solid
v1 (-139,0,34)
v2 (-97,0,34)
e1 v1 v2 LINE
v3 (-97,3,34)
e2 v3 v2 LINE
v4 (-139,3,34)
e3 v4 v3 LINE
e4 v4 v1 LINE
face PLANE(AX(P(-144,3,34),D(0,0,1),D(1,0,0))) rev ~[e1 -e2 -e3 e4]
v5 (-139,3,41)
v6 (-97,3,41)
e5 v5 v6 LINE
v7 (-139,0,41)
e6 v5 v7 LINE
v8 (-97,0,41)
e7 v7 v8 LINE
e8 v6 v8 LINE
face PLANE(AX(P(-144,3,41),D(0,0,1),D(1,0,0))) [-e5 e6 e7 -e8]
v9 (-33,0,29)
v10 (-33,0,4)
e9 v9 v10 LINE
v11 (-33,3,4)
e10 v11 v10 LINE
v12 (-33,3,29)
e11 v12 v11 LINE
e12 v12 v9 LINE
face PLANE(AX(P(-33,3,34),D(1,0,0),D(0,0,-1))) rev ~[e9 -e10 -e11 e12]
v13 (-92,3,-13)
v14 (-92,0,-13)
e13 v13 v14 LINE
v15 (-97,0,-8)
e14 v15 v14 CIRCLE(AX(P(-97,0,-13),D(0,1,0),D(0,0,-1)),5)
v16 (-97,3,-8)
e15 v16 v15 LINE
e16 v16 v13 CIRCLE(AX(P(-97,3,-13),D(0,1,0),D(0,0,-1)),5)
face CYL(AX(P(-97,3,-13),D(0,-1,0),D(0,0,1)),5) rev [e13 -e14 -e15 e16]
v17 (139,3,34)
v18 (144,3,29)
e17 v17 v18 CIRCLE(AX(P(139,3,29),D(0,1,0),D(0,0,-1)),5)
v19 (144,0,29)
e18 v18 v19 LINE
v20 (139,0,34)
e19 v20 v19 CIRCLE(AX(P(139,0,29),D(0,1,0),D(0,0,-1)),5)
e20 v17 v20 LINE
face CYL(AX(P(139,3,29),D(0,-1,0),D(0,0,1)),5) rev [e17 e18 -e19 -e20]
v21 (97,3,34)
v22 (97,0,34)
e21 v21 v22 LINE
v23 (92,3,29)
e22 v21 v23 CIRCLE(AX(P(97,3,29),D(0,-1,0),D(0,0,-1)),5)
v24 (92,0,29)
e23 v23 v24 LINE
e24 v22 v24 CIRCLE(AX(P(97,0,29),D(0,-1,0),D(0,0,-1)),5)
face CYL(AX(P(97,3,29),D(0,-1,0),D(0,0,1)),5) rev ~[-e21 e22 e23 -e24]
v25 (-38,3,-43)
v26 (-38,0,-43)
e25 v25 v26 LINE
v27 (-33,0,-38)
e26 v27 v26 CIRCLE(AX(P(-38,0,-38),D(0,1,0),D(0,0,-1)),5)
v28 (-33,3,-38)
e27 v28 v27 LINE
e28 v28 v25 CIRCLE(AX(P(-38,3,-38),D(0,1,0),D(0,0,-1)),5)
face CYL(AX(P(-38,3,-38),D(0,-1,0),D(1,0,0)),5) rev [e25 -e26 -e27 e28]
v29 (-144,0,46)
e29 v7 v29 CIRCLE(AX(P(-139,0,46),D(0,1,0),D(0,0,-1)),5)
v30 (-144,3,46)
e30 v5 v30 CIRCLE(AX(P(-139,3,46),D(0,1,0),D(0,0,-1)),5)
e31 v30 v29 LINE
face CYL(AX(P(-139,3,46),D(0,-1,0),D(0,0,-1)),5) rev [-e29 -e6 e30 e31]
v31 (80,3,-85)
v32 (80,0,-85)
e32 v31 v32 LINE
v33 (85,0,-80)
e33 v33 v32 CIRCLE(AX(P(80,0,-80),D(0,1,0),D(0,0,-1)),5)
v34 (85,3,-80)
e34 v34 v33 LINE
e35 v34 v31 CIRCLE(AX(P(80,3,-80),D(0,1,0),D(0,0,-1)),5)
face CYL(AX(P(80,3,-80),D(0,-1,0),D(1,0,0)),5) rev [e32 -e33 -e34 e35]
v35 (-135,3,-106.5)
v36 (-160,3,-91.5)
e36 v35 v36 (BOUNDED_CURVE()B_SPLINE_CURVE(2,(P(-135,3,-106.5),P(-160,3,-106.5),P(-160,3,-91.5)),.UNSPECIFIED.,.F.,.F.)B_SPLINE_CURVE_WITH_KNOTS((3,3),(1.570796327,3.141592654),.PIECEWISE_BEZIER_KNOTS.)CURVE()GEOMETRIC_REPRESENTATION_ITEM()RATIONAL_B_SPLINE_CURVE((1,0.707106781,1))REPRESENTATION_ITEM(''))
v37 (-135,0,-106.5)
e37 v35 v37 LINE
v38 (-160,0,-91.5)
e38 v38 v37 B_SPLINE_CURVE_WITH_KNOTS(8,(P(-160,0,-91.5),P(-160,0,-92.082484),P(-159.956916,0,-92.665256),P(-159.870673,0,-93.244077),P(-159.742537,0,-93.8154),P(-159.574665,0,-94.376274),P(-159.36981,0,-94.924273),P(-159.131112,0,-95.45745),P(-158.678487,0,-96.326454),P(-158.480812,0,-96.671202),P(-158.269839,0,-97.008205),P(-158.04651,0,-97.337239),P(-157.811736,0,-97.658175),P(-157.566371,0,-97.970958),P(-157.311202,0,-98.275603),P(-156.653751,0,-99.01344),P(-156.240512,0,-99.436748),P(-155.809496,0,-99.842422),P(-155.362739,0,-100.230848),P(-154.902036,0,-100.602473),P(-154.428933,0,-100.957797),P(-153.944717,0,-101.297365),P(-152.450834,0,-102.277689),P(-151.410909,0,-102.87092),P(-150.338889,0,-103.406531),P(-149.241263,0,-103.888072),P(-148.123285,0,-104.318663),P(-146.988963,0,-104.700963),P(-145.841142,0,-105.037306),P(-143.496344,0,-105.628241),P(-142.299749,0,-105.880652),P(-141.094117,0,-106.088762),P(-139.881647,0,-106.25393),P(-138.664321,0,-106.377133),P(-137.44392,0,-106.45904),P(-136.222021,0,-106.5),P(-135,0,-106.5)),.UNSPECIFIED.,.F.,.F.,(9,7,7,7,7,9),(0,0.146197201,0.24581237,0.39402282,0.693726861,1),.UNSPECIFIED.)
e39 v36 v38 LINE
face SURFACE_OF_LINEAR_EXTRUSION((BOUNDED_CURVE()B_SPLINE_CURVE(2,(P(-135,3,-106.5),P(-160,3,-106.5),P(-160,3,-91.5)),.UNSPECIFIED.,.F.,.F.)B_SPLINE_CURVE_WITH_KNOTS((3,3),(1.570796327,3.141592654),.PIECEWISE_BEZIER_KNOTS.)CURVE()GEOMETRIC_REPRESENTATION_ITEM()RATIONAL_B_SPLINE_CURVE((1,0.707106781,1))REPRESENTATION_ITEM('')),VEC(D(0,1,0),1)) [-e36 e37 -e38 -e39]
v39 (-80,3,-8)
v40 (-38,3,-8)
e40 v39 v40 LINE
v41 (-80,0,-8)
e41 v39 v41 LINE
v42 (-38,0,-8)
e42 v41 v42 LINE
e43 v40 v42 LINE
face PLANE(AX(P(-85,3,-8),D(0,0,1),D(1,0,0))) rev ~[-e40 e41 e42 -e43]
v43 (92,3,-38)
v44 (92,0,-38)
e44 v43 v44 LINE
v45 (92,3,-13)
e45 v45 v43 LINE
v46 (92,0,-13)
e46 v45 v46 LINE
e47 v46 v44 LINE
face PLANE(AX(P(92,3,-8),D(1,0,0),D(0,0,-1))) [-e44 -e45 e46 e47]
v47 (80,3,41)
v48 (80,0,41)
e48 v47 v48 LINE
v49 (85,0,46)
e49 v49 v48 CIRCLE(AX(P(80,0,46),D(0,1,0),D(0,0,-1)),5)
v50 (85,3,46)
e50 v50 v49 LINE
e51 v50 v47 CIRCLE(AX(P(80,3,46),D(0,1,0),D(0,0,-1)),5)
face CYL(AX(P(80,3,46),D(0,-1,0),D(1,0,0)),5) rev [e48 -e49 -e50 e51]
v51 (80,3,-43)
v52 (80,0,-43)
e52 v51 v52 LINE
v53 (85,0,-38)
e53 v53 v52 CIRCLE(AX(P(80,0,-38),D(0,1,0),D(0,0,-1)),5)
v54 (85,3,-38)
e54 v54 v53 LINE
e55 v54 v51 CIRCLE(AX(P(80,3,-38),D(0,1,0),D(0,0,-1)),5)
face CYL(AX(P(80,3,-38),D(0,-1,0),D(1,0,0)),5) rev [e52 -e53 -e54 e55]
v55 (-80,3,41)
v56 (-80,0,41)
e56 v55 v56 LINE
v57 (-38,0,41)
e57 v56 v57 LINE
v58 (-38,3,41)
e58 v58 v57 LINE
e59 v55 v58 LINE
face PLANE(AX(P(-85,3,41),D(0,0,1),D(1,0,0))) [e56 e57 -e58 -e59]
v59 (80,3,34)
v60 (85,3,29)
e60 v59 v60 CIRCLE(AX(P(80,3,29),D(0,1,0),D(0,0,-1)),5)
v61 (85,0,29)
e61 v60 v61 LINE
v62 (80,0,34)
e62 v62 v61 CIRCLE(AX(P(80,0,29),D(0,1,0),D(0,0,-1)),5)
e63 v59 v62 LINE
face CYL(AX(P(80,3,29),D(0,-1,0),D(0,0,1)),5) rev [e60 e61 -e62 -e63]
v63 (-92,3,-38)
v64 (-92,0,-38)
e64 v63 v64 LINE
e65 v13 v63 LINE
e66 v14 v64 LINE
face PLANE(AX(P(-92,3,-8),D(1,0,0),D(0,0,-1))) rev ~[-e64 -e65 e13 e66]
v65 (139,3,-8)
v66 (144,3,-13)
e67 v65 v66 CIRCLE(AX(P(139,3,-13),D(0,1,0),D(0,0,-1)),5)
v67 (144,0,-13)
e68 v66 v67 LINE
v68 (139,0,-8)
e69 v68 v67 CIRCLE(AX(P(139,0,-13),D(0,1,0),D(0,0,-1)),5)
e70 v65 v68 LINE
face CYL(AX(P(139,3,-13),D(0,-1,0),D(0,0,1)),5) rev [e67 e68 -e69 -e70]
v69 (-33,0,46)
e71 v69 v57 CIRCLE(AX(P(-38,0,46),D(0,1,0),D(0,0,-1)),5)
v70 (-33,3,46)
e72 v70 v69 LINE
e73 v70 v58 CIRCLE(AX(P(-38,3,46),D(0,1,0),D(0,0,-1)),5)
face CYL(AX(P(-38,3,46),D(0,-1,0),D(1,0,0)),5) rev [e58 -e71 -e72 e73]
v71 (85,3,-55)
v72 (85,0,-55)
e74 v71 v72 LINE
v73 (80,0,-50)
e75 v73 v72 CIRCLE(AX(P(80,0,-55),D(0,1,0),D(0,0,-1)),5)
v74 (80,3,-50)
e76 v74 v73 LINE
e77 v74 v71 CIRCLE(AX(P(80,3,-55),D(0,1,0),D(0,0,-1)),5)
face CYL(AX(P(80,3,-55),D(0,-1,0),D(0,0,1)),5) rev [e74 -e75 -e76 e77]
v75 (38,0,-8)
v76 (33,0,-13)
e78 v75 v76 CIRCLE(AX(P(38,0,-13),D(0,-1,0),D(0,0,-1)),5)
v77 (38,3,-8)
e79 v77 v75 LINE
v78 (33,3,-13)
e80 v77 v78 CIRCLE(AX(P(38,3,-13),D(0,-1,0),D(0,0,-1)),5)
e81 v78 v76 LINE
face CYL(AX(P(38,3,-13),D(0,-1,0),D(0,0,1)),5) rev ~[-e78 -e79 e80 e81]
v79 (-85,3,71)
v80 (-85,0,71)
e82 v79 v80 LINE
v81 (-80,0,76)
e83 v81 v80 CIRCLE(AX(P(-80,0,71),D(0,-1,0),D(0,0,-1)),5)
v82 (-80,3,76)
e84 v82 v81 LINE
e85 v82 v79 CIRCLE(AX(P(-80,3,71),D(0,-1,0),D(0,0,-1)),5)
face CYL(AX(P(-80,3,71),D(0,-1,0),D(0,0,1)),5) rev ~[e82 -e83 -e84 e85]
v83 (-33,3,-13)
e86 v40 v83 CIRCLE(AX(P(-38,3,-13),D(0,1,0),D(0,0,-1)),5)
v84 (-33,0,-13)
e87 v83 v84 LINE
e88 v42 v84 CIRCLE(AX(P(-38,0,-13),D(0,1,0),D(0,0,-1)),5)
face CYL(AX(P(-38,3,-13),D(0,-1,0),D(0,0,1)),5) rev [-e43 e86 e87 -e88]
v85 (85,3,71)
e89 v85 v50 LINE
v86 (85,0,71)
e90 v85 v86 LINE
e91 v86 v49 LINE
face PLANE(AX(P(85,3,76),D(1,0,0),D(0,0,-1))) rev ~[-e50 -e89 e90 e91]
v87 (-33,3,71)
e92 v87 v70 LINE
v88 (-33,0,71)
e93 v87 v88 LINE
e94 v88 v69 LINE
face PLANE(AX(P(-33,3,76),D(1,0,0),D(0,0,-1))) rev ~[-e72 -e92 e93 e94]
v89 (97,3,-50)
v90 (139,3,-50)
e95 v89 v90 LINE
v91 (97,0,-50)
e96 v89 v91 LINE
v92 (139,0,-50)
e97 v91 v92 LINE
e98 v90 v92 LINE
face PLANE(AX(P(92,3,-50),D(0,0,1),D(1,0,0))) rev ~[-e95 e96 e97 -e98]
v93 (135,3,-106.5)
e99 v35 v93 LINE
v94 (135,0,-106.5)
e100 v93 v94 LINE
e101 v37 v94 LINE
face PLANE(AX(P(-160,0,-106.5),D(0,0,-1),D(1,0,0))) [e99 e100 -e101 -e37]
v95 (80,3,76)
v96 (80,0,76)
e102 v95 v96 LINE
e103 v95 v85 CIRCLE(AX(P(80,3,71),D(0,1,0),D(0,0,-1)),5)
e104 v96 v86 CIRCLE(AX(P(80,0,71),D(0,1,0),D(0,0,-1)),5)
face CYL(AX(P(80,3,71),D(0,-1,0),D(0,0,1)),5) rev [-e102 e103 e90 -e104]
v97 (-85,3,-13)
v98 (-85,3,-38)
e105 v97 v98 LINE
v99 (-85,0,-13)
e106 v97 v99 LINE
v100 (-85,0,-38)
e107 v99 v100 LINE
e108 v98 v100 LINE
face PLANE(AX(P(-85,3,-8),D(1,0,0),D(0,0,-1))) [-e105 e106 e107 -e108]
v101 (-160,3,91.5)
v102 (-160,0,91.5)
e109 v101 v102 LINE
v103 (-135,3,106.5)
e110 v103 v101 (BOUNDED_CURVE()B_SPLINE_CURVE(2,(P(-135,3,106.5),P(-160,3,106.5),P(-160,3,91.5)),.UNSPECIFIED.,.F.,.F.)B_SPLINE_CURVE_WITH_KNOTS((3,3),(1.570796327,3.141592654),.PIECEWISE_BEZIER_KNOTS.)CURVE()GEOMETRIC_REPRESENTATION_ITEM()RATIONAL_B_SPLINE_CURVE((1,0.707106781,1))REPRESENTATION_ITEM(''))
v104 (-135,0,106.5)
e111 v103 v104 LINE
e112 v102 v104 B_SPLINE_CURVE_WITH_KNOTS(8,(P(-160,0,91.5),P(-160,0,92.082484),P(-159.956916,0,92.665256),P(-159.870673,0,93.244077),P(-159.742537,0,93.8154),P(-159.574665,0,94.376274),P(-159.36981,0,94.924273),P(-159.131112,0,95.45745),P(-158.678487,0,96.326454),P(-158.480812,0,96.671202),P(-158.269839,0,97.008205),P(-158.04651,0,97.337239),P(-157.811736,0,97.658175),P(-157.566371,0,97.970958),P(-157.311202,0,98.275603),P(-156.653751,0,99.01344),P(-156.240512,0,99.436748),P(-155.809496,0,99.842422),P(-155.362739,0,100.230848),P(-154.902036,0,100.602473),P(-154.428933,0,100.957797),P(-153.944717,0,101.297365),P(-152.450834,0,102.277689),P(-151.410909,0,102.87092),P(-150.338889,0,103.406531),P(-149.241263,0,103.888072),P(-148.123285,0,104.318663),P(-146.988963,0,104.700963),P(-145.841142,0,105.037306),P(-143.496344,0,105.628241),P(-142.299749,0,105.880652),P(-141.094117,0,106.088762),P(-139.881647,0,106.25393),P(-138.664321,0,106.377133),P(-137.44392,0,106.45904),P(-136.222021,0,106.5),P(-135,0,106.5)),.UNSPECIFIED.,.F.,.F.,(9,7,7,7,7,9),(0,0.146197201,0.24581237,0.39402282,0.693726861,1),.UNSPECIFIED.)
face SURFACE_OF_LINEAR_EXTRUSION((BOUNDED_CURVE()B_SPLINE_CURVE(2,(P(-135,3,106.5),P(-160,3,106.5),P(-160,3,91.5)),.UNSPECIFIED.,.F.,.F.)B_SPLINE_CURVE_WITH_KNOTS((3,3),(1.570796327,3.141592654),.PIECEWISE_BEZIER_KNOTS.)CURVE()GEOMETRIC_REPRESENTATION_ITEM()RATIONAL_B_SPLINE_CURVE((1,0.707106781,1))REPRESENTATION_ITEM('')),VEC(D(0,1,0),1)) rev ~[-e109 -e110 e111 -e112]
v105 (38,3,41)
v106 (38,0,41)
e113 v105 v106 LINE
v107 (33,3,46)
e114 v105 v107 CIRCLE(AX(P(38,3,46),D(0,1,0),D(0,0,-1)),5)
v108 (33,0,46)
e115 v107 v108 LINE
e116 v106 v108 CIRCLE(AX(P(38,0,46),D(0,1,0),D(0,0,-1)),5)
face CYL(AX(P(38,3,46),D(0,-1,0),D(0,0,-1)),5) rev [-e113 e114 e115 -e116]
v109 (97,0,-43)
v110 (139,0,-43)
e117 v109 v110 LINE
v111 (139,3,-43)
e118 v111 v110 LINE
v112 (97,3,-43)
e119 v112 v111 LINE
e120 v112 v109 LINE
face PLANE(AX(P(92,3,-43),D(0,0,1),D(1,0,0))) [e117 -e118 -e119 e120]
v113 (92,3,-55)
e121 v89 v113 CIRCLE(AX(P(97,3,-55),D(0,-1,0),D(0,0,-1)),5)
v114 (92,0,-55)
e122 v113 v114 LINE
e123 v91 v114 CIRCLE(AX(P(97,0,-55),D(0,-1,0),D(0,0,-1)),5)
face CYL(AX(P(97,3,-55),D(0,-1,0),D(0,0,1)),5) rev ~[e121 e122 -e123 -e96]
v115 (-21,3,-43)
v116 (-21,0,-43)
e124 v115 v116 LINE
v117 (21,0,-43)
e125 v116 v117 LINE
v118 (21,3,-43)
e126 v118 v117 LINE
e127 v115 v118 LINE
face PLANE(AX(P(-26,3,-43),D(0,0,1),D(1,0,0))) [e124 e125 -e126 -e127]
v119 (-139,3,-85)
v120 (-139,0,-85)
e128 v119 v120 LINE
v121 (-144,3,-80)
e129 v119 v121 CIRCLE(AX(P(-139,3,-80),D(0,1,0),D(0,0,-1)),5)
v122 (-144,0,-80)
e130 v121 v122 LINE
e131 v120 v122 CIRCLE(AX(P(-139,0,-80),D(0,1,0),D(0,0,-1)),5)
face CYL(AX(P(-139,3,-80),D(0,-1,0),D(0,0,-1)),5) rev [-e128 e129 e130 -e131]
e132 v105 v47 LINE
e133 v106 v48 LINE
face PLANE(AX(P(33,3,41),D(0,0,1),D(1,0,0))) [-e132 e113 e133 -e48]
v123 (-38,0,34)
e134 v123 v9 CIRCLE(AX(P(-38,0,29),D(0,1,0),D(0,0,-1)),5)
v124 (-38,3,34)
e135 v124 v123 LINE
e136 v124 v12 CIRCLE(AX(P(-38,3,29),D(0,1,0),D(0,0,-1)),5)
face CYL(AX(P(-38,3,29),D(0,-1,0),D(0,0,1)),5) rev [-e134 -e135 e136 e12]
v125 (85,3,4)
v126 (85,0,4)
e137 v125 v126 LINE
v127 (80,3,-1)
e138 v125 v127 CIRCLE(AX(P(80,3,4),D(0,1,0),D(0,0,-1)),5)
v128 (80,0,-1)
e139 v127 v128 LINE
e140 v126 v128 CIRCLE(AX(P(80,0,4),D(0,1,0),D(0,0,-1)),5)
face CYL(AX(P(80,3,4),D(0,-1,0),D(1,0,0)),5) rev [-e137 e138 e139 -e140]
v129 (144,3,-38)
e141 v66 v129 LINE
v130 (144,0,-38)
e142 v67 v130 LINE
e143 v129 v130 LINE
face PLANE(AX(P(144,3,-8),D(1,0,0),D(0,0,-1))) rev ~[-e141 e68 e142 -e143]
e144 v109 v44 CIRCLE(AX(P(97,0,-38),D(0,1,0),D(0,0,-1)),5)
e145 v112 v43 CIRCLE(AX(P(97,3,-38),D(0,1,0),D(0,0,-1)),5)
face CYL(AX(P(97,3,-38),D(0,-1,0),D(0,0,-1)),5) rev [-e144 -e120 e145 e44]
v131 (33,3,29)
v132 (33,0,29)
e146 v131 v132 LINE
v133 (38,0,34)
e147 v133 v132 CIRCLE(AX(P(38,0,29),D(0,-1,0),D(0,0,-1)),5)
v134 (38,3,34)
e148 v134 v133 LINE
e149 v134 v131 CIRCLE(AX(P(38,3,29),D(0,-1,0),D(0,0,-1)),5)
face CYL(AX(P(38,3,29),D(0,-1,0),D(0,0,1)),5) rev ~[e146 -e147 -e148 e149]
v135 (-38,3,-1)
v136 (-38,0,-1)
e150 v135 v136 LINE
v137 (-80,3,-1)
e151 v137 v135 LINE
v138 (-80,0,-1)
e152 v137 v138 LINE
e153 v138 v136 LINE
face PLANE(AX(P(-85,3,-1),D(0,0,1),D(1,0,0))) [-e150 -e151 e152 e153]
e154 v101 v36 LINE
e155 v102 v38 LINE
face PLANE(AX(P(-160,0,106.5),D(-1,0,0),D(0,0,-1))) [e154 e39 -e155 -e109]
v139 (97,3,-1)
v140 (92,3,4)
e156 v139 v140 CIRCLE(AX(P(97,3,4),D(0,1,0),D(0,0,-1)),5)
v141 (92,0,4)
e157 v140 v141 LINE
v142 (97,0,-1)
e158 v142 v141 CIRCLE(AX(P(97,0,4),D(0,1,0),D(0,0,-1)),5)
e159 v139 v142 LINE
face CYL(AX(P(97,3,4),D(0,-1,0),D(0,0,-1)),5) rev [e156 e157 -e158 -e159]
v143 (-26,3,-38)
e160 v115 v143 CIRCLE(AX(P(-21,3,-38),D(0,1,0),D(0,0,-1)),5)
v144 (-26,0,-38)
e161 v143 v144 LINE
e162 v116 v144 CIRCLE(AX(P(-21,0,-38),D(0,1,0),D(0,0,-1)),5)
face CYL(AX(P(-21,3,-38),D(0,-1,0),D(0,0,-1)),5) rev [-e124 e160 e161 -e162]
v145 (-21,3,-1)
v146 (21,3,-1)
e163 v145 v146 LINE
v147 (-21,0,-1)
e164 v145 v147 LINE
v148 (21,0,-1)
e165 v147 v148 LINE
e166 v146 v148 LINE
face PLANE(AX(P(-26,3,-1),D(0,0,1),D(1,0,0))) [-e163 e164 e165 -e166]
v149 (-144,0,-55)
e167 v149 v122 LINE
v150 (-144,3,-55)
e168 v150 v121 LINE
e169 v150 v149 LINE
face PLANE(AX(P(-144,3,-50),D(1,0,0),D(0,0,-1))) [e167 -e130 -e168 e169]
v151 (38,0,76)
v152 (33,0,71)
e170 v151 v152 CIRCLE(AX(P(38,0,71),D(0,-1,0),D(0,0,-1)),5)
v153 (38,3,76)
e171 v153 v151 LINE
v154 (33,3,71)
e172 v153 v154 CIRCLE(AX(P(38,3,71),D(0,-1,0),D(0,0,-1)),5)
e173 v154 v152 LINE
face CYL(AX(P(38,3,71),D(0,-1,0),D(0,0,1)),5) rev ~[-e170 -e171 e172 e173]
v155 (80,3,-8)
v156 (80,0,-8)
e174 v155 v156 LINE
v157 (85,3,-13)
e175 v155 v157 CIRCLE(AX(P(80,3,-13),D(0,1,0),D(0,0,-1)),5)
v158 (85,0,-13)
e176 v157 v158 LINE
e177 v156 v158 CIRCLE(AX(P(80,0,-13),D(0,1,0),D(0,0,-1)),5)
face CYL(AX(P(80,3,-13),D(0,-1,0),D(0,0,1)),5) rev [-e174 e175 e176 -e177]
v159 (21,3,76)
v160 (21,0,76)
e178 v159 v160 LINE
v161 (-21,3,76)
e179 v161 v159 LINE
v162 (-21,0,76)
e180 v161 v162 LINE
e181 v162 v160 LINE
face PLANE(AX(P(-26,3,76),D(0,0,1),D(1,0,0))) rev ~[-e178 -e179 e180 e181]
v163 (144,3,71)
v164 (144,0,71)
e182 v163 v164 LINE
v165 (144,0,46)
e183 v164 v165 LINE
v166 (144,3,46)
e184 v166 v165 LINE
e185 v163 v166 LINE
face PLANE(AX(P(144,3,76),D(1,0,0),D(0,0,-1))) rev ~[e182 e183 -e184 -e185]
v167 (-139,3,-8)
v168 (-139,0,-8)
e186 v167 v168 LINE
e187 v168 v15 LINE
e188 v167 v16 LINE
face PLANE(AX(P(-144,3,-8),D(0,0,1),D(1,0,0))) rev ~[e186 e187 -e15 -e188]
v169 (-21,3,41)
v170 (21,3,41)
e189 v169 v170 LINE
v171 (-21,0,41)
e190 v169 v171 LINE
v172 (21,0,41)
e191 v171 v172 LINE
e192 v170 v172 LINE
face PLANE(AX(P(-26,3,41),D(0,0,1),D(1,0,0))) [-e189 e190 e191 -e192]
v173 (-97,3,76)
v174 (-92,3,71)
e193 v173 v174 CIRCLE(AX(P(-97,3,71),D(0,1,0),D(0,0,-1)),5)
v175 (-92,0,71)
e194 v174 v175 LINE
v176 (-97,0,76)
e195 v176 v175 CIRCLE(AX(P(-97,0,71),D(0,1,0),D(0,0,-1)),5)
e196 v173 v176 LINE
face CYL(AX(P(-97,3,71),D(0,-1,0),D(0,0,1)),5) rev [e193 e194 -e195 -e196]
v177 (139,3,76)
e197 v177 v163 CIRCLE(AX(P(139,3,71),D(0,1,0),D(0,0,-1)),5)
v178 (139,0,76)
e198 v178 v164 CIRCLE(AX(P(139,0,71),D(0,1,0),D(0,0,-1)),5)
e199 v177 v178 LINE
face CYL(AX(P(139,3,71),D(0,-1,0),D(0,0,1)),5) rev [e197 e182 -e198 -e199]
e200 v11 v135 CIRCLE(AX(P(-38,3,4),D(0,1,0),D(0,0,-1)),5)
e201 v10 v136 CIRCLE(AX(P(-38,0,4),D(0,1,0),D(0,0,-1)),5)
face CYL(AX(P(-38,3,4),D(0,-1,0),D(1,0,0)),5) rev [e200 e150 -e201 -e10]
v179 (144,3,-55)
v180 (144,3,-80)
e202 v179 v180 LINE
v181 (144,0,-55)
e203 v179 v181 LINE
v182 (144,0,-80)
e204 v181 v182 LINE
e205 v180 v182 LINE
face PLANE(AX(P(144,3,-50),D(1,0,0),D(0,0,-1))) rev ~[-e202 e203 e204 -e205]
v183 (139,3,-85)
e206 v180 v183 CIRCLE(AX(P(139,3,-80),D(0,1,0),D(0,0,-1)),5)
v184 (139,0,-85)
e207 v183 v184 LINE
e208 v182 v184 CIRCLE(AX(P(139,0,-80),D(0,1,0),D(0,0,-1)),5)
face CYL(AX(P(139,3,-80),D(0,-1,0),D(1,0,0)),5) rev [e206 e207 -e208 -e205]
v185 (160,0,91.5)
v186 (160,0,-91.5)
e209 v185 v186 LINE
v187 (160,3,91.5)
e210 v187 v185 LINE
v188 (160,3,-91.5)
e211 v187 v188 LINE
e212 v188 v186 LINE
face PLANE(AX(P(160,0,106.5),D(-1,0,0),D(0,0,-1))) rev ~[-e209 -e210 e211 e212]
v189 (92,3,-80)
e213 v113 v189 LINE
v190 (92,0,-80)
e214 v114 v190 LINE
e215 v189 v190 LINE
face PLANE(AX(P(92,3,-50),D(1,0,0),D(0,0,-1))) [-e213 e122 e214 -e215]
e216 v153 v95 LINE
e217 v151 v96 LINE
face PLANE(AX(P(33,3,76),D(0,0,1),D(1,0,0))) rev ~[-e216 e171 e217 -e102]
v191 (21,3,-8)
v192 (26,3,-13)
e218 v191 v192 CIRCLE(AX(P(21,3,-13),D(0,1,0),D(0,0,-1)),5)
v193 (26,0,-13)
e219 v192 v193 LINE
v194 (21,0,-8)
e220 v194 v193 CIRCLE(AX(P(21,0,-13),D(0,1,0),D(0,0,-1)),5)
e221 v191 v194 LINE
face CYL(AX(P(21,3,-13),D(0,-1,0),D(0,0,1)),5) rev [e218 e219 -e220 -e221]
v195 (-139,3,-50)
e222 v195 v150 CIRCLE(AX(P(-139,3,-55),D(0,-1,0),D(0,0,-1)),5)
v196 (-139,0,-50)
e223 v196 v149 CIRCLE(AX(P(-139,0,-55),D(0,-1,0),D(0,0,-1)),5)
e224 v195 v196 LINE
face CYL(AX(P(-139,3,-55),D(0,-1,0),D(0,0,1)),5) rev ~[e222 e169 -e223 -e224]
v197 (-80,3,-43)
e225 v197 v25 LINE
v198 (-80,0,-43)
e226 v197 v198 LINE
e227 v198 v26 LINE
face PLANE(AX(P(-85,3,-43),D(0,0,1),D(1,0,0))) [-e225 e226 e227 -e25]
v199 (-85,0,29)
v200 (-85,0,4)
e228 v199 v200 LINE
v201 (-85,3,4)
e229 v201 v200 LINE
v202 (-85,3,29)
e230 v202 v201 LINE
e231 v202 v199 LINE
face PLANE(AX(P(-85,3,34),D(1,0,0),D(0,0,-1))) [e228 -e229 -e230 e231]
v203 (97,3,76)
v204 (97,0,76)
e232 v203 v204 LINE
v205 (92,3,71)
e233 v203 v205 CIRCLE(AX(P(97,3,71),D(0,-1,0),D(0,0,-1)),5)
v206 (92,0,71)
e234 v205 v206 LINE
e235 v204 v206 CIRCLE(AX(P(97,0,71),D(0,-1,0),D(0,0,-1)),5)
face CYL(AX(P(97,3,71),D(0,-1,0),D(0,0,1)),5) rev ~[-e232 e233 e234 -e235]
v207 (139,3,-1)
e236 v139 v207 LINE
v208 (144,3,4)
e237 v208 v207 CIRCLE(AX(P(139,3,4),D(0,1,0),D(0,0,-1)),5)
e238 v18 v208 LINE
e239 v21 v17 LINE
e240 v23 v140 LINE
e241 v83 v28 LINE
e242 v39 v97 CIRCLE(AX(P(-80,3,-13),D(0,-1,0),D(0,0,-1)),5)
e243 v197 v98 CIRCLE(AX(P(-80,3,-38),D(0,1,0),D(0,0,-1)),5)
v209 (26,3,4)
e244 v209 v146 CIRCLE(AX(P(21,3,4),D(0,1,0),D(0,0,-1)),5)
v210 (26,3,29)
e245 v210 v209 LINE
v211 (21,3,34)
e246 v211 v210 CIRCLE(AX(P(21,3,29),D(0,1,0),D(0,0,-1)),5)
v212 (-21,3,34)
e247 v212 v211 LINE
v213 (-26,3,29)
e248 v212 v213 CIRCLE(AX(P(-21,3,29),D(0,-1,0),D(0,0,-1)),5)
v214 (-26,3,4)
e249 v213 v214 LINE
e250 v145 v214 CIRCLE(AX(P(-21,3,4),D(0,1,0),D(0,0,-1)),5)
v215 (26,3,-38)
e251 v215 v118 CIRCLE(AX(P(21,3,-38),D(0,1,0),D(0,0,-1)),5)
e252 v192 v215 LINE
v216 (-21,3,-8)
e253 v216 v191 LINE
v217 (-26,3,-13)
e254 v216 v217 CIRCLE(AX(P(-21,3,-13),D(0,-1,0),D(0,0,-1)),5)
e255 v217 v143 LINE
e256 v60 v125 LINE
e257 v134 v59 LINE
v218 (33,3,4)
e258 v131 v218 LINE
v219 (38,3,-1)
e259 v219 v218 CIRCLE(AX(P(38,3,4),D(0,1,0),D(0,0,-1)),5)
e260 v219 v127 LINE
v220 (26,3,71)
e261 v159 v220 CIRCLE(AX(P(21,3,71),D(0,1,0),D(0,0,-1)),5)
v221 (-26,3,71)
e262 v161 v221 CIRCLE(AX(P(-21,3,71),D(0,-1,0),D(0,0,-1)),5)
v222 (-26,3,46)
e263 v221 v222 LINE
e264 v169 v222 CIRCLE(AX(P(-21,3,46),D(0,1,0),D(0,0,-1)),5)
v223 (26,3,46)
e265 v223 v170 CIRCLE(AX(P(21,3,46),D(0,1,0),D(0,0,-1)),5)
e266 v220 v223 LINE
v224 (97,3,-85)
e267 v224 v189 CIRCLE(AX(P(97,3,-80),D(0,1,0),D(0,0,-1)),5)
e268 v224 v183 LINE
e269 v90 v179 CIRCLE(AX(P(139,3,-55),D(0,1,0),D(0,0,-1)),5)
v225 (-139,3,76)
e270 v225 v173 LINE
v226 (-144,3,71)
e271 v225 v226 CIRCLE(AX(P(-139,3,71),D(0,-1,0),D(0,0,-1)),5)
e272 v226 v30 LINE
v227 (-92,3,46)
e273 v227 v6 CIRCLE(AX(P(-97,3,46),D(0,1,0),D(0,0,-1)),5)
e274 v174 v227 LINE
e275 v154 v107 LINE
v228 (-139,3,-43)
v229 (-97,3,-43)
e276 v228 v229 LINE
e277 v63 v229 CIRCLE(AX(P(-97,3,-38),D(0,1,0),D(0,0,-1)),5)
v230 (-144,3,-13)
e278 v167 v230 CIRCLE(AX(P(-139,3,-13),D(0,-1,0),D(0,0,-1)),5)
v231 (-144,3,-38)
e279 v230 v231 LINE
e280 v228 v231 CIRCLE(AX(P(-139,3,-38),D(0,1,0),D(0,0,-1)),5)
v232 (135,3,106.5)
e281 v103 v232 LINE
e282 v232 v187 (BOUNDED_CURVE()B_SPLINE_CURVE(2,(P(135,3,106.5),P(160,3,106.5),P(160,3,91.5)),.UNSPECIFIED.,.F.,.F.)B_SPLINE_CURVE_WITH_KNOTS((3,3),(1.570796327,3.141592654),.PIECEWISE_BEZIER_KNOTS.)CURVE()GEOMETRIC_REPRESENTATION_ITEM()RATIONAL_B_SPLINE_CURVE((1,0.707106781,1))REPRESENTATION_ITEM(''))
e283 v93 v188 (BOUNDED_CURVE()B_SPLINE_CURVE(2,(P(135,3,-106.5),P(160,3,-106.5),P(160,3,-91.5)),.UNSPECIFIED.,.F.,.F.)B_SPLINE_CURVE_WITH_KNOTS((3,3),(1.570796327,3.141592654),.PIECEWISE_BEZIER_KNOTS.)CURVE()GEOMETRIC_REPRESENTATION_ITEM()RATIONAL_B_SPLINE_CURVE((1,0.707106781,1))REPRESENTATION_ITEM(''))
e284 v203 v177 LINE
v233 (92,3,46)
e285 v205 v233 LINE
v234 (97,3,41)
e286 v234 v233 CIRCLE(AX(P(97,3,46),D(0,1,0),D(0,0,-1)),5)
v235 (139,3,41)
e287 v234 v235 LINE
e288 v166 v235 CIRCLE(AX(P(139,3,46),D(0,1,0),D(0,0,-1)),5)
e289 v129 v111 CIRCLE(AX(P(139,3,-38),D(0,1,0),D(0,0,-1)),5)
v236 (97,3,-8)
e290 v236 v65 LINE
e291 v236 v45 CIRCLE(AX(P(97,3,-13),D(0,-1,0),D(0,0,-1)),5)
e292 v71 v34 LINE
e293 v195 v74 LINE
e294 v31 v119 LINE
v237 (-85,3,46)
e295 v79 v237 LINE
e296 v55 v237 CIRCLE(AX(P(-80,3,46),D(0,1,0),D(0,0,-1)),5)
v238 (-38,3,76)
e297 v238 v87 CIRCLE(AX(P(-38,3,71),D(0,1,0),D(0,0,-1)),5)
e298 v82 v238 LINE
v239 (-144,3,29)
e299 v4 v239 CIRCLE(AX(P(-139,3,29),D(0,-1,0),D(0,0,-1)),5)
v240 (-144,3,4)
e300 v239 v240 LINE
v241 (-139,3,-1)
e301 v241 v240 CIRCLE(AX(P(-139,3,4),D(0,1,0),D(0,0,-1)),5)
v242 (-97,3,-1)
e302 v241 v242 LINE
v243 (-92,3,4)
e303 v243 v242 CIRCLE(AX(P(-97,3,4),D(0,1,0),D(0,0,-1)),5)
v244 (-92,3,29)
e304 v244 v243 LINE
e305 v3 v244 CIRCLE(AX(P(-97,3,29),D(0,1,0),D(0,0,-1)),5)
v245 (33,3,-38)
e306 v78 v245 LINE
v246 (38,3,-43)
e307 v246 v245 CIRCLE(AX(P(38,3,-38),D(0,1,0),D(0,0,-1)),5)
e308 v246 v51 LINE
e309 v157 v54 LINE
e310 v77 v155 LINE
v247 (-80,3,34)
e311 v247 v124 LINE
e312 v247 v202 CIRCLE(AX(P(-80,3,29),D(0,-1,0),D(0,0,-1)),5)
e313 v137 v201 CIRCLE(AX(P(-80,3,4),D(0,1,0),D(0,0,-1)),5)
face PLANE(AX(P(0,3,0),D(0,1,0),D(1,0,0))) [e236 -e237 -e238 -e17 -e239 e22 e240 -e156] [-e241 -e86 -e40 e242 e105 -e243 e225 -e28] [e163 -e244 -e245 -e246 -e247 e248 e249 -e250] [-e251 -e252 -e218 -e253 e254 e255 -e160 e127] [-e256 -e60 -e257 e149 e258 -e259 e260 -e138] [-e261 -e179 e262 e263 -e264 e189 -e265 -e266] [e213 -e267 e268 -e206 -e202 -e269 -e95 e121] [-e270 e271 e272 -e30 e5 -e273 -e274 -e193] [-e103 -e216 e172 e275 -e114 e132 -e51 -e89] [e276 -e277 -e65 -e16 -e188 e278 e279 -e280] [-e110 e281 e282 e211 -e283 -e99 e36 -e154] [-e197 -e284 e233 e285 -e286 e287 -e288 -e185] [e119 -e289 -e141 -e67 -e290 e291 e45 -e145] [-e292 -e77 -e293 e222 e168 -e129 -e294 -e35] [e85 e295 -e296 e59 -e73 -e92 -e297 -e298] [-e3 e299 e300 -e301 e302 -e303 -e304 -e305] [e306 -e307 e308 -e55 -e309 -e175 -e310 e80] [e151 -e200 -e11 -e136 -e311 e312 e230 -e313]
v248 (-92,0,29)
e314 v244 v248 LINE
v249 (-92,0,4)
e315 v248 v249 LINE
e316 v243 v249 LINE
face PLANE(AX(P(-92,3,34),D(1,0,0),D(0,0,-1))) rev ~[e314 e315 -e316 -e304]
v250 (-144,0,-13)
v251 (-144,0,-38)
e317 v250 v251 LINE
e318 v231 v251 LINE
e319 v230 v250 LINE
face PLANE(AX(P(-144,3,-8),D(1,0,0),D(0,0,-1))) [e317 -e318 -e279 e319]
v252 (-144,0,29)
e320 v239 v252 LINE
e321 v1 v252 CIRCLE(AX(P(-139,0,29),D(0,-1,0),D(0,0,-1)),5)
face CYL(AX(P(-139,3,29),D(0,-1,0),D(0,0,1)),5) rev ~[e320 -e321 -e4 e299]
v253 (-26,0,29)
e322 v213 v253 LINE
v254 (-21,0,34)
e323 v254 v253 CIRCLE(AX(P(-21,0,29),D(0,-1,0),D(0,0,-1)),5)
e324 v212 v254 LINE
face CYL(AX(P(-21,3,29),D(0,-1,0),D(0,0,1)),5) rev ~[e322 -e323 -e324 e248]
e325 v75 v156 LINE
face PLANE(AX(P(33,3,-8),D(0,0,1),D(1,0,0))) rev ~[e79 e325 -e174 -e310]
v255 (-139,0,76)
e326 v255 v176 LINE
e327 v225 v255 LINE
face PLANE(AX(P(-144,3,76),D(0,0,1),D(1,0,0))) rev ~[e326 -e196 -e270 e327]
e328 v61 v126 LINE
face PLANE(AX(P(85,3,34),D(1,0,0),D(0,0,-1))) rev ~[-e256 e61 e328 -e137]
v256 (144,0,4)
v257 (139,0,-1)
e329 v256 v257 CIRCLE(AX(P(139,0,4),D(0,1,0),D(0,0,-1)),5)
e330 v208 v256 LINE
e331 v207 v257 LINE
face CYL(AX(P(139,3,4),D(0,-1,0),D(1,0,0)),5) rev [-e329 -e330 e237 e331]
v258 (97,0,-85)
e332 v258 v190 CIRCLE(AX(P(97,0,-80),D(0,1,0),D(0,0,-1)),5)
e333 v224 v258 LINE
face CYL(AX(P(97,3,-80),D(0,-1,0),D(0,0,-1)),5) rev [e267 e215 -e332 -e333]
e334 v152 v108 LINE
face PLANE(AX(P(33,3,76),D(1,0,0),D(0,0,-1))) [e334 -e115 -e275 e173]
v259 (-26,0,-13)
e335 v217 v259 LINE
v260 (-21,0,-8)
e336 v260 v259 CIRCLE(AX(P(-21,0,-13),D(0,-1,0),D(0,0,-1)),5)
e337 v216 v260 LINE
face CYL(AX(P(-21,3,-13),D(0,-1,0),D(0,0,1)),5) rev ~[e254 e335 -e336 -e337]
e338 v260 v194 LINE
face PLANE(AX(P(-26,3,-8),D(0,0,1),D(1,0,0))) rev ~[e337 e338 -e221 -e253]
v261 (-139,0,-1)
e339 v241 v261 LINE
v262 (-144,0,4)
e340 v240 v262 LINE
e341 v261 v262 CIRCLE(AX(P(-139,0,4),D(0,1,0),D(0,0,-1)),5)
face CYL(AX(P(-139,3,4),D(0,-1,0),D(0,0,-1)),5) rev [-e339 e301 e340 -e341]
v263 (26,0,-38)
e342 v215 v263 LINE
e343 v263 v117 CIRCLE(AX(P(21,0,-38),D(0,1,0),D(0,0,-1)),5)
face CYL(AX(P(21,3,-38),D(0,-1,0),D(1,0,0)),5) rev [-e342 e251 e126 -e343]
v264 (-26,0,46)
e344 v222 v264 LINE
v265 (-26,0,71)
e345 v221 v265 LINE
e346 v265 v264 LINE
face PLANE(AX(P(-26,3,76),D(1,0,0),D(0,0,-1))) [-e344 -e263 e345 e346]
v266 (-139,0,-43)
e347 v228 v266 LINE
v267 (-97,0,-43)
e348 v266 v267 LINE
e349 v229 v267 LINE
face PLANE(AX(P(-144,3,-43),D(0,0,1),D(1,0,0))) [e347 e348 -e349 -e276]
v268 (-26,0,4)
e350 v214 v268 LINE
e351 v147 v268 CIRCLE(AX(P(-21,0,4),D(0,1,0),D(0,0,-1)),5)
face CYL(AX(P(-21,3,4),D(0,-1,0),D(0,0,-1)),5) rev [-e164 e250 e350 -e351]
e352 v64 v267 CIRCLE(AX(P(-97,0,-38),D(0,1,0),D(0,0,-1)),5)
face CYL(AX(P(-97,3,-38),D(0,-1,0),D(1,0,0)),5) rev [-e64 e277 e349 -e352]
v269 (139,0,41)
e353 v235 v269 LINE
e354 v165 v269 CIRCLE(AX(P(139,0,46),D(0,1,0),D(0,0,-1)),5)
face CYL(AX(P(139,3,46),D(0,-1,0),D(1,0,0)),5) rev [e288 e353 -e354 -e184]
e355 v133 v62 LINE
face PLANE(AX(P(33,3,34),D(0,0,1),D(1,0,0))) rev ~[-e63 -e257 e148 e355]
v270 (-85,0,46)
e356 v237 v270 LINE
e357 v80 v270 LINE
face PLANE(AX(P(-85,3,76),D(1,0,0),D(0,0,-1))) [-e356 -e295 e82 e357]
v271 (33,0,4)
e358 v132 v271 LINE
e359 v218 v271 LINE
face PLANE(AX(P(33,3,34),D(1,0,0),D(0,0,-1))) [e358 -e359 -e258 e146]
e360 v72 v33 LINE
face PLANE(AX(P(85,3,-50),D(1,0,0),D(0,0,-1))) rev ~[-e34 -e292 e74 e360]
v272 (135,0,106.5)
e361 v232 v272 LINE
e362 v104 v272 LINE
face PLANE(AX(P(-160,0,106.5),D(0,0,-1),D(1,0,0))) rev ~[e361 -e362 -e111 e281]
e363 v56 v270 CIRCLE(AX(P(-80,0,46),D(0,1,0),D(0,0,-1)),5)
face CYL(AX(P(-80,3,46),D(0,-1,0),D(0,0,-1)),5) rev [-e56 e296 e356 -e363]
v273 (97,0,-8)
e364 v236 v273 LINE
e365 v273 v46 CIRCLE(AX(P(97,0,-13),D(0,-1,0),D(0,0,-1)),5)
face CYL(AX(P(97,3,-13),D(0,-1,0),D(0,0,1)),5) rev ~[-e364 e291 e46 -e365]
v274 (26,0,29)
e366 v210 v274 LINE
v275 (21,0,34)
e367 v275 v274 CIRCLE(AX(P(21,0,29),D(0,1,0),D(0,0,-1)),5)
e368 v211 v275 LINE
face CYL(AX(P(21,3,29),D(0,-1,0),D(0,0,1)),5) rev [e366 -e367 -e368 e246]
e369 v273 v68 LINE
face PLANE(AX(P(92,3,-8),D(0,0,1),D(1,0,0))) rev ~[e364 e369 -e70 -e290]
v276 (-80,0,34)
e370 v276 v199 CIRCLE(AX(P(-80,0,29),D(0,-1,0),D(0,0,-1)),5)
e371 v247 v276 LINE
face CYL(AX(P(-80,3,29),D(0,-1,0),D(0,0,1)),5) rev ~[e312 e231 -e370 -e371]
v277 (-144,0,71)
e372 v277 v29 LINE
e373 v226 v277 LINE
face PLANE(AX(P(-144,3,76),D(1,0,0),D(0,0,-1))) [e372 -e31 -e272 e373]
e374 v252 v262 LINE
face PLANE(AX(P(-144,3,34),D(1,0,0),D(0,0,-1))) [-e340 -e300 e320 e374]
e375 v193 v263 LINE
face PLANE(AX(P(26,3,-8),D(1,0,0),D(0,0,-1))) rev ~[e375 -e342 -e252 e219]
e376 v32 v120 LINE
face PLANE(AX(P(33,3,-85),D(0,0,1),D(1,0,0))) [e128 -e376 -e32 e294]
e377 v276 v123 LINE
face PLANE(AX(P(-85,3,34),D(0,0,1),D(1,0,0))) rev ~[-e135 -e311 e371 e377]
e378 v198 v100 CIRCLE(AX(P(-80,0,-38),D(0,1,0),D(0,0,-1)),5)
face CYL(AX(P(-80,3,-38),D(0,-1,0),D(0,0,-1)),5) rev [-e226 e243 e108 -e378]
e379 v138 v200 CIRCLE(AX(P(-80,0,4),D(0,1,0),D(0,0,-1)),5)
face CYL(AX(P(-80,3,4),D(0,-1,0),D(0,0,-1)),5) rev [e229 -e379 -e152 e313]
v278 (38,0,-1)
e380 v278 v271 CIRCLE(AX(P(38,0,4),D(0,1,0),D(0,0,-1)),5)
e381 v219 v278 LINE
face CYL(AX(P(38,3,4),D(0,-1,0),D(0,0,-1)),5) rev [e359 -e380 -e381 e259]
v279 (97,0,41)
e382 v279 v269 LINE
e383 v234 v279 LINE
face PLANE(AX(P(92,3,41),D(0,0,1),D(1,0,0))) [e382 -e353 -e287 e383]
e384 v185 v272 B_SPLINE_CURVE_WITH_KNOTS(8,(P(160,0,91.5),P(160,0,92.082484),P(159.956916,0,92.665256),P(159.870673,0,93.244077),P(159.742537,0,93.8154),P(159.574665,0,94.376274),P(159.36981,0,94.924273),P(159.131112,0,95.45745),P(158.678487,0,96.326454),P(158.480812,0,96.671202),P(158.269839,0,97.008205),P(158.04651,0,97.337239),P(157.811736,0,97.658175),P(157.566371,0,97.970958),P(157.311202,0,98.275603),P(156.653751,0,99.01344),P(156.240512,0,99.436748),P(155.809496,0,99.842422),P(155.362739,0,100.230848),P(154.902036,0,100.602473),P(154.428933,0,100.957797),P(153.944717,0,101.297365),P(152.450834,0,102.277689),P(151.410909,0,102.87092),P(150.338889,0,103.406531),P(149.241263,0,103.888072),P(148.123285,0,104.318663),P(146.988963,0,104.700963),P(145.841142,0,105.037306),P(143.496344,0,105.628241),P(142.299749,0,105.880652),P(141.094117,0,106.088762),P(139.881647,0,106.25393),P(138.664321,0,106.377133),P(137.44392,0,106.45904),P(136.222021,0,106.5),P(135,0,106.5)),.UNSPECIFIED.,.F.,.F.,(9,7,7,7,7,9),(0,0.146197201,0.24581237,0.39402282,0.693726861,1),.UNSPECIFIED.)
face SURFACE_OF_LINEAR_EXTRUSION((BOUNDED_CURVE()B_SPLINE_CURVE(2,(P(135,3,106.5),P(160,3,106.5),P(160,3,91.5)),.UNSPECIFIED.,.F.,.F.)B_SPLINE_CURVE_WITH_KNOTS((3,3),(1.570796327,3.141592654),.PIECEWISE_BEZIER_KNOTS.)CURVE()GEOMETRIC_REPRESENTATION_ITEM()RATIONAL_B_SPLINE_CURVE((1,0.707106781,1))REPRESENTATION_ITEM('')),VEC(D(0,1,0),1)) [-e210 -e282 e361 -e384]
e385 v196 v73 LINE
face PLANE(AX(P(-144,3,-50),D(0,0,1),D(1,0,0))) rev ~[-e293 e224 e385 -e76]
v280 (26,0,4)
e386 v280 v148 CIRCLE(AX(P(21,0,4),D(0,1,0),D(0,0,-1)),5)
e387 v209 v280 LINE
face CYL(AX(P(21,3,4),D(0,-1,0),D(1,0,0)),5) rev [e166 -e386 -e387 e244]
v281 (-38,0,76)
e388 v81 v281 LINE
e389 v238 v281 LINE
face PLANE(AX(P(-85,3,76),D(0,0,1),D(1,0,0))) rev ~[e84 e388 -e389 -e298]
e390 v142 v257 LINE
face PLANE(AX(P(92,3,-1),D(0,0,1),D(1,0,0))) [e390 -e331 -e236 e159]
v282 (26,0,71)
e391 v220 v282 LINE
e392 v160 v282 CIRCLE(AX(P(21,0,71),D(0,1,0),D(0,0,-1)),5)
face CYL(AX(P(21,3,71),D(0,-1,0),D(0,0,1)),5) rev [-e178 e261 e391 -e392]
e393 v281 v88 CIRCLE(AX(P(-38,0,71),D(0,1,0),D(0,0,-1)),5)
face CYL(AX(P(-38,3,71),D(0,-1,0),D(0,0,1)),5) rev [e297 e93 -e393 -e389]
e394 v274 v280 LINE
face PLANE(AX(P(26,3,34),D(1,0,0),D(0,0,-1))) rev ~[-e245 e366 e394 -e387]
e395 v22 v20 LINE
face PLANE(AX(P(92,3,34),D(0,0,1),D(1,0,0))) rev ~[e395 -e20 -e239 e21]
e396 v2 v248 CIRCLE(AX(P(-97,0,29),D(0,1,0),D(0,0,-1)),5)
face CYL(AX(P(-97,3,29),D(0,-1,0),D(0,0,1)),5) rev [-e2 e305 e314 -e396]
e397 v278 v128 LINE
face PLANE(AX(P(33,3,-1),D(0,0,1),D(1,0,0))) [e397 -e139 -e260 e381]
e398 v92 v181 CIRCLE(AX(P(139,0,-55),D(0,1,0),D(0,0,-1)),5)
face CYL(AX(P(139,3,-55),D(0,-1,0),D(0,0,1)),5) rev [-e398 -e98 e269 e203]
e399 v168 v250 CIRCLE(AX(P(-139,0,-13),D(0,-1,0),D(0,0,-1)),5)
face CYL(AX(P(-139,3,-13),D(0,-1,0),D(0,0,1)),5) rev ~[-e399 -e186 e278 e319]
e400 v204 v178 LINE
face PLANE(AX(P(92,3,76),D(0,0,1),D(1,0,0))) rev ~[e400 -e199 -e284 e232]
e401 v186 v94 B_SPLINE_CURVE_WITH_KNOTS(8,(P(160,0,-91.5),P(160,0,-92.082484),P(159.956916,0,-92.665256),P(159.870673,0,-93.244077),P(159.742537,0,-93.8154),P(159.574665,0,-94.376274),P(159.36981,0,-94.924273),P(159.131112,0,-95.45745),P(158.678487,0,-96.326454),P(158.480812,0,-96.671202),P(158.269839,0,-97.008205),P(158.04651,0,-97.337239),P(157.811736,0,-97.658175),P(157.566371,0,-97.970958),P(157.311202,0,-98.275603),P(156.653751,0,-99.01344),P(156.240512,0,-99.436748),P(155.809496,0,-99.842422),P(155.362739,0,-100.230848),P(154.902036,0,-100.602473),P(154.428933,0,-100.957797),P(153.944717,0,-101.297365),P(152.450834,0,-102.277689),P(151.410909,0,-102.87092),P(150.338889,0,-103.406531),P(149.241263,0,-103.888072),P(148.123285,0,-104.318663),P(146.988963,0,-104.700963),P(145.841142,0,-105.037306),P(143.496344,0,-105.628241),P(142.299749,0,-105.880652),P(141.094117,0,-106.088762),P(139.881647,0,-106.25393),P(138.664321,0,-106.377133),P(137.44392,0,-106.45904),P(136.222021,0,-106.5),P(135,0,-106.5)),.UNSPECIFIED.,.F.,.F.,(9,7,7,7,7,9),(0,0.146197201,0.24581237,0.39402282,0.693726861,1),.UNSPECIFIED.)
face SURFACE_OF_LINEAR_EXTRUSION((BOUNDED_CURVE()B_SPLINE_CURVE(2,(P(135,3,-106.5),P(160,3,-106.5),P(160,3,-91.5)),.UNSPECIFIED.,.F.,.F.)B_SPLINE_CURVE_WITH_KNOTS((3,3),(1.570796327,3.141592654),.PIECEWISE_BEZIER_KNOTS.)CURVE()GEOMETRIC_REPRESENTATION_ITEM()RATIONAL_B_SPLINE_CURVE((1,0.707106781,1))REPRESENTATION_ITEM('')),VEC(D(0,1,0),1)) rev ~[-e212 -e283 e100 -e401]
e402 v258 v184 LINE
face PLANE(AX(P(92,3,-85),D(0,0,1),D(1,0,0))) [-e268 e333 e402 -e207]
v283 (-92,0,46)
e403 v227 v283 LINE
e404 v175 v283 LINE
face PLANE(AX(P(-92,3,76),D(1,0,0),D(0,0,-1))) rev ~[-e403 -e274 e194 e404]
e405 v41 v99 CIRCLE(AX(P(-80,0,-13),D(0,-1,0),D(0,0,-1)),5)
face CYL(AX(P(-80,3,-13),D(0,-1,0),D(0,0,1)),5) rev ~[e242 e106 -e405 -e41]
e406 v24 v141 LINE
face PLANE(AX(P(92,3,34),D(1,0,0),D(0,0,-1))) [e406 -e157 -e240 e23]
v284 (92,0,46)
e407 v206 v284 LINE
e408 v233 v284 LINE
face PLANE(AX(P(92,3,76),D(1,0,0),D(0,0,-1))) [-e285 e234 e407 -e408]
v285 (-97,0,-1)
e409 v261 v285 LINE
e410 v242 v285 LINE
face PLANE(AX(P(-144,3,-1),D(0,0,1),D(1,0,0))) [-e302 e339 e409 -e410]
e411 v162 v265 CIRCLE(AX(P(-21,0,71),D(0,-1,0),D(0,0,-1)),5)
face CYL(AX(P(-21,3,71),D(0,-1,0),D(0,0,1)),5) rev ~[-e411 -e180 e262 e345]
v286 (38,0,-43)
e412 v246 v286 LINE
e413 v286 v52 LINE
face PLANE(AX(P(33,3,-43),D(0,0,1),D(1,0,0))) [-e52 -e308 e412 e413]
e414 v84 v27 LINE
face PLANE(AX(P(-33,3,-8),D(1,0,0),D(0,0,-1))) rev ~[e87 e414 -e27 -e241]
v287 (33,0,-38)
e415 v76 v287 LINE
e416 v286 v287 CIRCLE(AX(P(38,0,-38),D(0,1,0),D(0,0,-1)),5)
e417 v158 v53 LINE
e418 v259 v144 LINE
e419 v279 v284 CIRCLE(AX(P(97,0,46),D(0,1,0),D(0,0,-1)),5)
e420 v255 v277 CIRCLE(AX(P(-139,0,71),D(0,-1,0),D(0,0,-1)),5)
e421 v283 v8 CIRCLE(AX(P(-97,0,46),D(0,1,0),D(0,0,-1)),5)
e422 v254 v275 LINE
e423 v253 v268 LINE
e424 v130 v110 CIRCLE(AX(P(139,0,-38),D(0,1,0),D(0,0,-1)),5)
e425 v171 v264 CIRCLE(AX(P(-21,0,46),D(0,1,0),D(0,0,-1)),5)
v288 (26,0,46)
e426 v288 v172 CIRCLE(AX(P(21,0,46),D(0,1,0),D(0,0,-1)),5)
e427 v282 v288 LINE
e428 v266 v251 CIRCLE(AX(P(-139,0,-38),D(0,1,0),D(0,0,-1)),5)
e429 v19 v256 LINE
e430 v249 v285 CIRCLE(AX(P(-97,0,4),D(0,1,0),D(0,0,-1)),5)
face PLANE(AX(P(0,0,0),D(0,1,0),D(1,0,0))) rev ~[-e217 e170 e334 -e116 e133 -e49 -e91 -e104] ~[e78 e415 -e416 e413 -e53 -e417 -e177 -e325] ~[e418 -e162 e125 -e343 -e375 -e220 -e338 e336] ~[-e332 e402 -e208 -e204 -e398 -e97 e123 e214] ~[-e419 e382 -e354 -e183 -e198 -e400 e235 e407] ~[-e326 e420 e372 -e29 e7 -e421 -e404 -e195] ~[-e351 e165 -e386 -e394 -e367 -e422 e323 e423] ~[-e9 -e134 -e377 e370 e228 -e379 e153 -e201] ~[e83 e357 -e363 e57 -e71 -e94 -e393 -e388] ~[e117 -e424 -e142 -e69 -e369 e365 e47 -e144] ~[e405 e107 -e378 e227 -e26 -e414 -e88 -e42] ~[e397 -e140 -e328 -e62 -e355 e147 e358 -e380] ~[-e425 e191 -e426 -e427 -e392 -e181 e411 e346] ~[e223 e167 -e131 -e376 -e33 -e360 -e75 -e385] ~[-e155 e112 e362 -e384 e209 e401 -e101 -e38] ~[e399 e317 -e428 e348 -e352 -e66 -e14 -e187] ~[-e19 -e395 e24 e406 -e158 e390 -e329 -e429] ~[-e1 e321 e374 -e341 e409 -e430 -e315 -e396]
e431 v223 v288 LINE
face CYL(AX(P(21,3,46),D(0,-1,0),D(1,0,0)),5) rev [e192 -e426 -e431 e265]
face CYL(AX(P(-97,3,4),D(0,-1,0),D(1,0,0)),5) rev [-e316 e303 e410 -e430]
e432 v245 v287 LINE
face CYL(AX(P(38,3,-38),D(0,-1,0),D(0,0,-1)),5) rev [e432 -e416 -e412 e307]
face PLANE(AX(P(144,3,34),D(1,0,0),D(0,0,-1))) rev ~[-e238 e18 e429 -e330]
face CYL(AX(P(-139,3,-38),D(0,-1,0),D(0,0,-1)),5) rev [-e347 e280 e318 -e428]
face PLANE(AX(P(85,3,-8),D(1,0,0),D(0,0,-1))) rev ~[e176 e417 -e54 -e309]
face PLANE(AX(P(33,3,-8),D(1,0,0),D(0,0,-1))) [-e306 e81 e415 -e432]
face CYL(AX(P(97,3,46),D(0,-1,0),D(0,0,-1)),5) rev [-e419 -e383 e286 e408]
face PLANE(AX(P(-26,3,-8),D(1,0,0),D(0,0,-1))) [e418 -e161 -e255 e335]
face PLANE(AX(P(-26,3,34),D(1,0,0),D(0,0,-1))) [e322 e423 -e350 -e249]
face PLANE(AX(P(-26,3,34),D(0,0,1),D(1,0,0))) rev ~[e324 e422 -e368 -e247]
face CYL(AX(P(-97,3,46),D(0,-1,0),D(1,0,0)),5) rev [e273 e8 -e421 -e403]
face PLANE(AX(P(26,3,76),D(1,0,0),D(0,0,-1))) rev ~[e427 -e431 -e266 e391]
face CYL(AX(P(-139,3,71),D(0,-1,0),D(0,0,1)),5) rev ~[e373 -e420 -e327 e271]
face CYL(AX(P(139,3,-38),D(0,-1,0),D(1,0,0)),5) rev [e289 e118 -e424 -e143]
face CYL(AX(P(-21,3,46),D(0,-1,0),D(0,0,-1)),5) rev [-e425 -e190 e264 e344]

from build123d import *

# Parameters (mm, degrees)
SKETCH1_W                 = 320
SKETCH1_H                 = 213
OUTER_PROFILE_DEPTH       = 3
SKETCH5_W                 = 52
SKETCH5_H                 = 35
CUTOUT_DEPTH              = 193.227079258
CORNER_RAD_R              = 5
LPATTERN1_COUNT           = 5
LPATTERN1_PITCH           = 59
LPATTERN1_COUNT_DIR2      = 4
LPATTERN1_PITCH_DIR2      = 42
CORNER_RAD_OF_LPATTERN1_R = 5
CORNER_DEPTH              = 193.227079258
CORNERSB_COPY_1_DEPTH     = 193.227079258
SKETCH7_W                 = 135
SKETCH7_H                 = 35
CUT_EXTRUDE2_DEPTH        = 193.227079398


with BuildPart() as part:
    # Sketch1 → Outer Profile (new body)
    with BuildSketch(Plane(origin=(0, 0, 0), x_dir=(1, 0, 0), z_dir=(0, 1, 0))):
        Rectangle(SKETCH1_W, SKETCH1_H)
    extrude(amount=OUTER_PROFILE_DEPTH)

    # Sketch5 → Cutout (cut, through all)
    with BuildSketch(Plane(origin=(0, 3, 0), x_dir=(1, 0, 0), z_dir=(0, 1, 0))):
        with Locations((-118, -58.5)):
            Rectangle(SKETCH5_W, SKETCH5_H)
    cutout = extrude(amount=-CUTOUT_DEPTH, mode=Mode.SUBTRACT)

    # Corner Rad
    corner_rad_edges = [part.edges().sort_by_distance(p)[0] for p in [
        (-144, 1.5, 76),
        (-144, 1.5, 41),
        (-92, 1.5, 41),
        (-92, 1.5, 76),
    ]]
    fillet(corner_rad_edges, radius=CORNER_RAD_R)

    # LPattern1: Cutout 5 × 4
    with Locations(*[(i * LPATTERN1_PITCH, 0, -j * LPATTERN1_PITCH_DIR2) for i in range(LPATTERN1_COUNT) for j in range(LPATTERN1_COUNT_DIR2) if (i, j) != (0, 0)]):
        add(cutout, mode=Mode.SUBTRACT)

    # Corner Rad of LPattern1
    corner_rad_of_lpattern1_edges = [part.edges().sort_by_distance(p)[0] for p in [
        (-144, 1.5, 34),
        (-144, 1.5, -1),
        (-92, 1.5, -1),
        (-92, 1.5, 34),
        (-144, 1.5, -8),
        (-144, 1.5, -43),
        (-92, 1.5, -43),
        (-92, 1.5, -8),
        (-144, 1.5, -50),
        (-144, 1.5, -85),
        (-92, 1.5, -85),
        (-92, 1.5, -50),
        (-85, 1.5, 76),
        (-85, 1.5, 41),
        (-33, 1.5, 41),
        (-33, 1.5, 76),
        (-85, 1.5, 34),
        (-85, 1.5, -1),
        (-33, 1.5, -1),
        (-33, 1.5, 34),
        (-85, 1.5, -8),
        (-85, 1.5, -43),
        (-33, 1.5, -43),
        (-33, 1.5, -8),
        (-85, 1.5, -50),
        (-85, 1.5, -85),
        (-33, 1.5, -85),
        (-33, 1.5, -50),
        (-26, 1.5, 76),
        (-26, 1.5, 41),
        (26, 1.5, 41),
        (26, 1.5, 76),
        (-26, 1.5, 34),
        (-26, 1.5, -1),
        (26, 1.5, -1),
        (26, 1.5, 34),
        (-26, 1.5, -8),
        (-26, 1.5, -43),
        (26, 1.5, -43),
        (26, 1.5, -8),
        (-26, 1.5, -50),
        (-26, 1.5, -85),
        (26, 1.5, -85),
        (26, 1.5, -50),
        (33, 1.5, 76),
        (33, 1.5, 41),
        (85, 1.5, 41),
        (85, 1.5, 76),
        (33, 1.5, 34),
        (33, 1.5, -1),
        (85, 1.5, -1),
        (85, 1.5, 34),
        (33, 1.5, -8),
        (33, 1.5, -43),
        (85, 1.5, -43),
        (85, 1.5, -8),
        (33, 1.5, -50),
        (33, 1.5, -85),
        (85, 1.5, -85),
        (85, 1.5, -50),
        (92, 1.5, 76),
        (92, 1.5, 41),
        (144, 1.5, 41),
        (144, 1.5, 76),
        (92, 1.5, 34),
        (92, 1.5, -1),
        (144, 1.5, -1),
        (144, 1.5, 34),
        (92, 1.5, -8),
        (92, 1.5, -43),
        (144, 1.5, -43),
        (144, 1.5, -8),
        (92, 1.5, -50),
        (92, 1.5, -85),
        (144, 1.5, -85),
        (144, 1.5, -50),
    ]]
    fillet(corner_rad_of_lpattern1_edges, radius=CORNER_RAD_OF_LPATTERN1_R)

    # Sketch6 → Corner (cut, through all)
    with BuildSketch(Plane(origin=(0, 3, 0), x_dir=(1, 0, 0), z_dir=(0, 1, 0))):
        with BuildLine():
            Line((-135, 106.5), (-160, 106.5))
            Line((-160, 106.5), (-160, 91.5))
            add(Edge.make_bspline(
                [(-135, 106.5), (-160, 106.5), (-160, 91.5)],
                knots=[1.570796327, 1.570796327, 1.570796327, 3.141592654, 3.141592654, 3.141592654], degree=2, weights=[1, 0.707106781, 1]))
        make_face()
    corner = extrude(amount=-CORNER_DEPTH, mode=Mode.SUBTRACT)

    # CornersA: Corner across plane
    add(corner.mirror(Plane(origin=(0, 0, 0), x_dir=(0, 0, 1), z_dir=(1, 0, 0))), mode=Mode.SUBTRACT)

    # CornersB: Corner across plane
    add(corner.mirror(Plane.XY), mode=Mode.SUBTRACT)

    # CornersB copy 1 sketch → CornersB copy 1 (cut, through all)
    with BuildSketch(Plane(origin=(0, 3, 0), x_dir=(-1, 0, 0), z_dir=(0, 1, 0))):
        with BuildLine():
            Line((-135, 106.5), (-160, 106.5))
            Line((-160, 106.5), (-160, 91.5))
            add(Edge.make_bspline(
                [(-135, 106.5), (-160, 106.5), (-160, 91.5)],
                knots=[1.570796327, 1.570796327, 1.570796327, 3.141592654, 3.141592654, 3.141592654], degree=2, weights=[1, 0.707106781, 1]))
        make_face()
    extrude(amount=-CORNERSB_COPY_1_DEPTH, mode=Mode.SUBTRACT)

    # Sketch7 → Cut-Extrude2 (cut, through all)
    with BuildSketch(Plane(origin=(0, 3, 0), x_dir=(1, 0, 0), z_dir=(0, 1, 0))):
        with Locations((-29.5, 67.5)):
            Rectangle(SKETCH7_W, SKETCH7_H)
    extrude(amount=-CUT_EXTRUDE2_DEPTH, mode=Mode.SUBTRACT)


solid = part.part
